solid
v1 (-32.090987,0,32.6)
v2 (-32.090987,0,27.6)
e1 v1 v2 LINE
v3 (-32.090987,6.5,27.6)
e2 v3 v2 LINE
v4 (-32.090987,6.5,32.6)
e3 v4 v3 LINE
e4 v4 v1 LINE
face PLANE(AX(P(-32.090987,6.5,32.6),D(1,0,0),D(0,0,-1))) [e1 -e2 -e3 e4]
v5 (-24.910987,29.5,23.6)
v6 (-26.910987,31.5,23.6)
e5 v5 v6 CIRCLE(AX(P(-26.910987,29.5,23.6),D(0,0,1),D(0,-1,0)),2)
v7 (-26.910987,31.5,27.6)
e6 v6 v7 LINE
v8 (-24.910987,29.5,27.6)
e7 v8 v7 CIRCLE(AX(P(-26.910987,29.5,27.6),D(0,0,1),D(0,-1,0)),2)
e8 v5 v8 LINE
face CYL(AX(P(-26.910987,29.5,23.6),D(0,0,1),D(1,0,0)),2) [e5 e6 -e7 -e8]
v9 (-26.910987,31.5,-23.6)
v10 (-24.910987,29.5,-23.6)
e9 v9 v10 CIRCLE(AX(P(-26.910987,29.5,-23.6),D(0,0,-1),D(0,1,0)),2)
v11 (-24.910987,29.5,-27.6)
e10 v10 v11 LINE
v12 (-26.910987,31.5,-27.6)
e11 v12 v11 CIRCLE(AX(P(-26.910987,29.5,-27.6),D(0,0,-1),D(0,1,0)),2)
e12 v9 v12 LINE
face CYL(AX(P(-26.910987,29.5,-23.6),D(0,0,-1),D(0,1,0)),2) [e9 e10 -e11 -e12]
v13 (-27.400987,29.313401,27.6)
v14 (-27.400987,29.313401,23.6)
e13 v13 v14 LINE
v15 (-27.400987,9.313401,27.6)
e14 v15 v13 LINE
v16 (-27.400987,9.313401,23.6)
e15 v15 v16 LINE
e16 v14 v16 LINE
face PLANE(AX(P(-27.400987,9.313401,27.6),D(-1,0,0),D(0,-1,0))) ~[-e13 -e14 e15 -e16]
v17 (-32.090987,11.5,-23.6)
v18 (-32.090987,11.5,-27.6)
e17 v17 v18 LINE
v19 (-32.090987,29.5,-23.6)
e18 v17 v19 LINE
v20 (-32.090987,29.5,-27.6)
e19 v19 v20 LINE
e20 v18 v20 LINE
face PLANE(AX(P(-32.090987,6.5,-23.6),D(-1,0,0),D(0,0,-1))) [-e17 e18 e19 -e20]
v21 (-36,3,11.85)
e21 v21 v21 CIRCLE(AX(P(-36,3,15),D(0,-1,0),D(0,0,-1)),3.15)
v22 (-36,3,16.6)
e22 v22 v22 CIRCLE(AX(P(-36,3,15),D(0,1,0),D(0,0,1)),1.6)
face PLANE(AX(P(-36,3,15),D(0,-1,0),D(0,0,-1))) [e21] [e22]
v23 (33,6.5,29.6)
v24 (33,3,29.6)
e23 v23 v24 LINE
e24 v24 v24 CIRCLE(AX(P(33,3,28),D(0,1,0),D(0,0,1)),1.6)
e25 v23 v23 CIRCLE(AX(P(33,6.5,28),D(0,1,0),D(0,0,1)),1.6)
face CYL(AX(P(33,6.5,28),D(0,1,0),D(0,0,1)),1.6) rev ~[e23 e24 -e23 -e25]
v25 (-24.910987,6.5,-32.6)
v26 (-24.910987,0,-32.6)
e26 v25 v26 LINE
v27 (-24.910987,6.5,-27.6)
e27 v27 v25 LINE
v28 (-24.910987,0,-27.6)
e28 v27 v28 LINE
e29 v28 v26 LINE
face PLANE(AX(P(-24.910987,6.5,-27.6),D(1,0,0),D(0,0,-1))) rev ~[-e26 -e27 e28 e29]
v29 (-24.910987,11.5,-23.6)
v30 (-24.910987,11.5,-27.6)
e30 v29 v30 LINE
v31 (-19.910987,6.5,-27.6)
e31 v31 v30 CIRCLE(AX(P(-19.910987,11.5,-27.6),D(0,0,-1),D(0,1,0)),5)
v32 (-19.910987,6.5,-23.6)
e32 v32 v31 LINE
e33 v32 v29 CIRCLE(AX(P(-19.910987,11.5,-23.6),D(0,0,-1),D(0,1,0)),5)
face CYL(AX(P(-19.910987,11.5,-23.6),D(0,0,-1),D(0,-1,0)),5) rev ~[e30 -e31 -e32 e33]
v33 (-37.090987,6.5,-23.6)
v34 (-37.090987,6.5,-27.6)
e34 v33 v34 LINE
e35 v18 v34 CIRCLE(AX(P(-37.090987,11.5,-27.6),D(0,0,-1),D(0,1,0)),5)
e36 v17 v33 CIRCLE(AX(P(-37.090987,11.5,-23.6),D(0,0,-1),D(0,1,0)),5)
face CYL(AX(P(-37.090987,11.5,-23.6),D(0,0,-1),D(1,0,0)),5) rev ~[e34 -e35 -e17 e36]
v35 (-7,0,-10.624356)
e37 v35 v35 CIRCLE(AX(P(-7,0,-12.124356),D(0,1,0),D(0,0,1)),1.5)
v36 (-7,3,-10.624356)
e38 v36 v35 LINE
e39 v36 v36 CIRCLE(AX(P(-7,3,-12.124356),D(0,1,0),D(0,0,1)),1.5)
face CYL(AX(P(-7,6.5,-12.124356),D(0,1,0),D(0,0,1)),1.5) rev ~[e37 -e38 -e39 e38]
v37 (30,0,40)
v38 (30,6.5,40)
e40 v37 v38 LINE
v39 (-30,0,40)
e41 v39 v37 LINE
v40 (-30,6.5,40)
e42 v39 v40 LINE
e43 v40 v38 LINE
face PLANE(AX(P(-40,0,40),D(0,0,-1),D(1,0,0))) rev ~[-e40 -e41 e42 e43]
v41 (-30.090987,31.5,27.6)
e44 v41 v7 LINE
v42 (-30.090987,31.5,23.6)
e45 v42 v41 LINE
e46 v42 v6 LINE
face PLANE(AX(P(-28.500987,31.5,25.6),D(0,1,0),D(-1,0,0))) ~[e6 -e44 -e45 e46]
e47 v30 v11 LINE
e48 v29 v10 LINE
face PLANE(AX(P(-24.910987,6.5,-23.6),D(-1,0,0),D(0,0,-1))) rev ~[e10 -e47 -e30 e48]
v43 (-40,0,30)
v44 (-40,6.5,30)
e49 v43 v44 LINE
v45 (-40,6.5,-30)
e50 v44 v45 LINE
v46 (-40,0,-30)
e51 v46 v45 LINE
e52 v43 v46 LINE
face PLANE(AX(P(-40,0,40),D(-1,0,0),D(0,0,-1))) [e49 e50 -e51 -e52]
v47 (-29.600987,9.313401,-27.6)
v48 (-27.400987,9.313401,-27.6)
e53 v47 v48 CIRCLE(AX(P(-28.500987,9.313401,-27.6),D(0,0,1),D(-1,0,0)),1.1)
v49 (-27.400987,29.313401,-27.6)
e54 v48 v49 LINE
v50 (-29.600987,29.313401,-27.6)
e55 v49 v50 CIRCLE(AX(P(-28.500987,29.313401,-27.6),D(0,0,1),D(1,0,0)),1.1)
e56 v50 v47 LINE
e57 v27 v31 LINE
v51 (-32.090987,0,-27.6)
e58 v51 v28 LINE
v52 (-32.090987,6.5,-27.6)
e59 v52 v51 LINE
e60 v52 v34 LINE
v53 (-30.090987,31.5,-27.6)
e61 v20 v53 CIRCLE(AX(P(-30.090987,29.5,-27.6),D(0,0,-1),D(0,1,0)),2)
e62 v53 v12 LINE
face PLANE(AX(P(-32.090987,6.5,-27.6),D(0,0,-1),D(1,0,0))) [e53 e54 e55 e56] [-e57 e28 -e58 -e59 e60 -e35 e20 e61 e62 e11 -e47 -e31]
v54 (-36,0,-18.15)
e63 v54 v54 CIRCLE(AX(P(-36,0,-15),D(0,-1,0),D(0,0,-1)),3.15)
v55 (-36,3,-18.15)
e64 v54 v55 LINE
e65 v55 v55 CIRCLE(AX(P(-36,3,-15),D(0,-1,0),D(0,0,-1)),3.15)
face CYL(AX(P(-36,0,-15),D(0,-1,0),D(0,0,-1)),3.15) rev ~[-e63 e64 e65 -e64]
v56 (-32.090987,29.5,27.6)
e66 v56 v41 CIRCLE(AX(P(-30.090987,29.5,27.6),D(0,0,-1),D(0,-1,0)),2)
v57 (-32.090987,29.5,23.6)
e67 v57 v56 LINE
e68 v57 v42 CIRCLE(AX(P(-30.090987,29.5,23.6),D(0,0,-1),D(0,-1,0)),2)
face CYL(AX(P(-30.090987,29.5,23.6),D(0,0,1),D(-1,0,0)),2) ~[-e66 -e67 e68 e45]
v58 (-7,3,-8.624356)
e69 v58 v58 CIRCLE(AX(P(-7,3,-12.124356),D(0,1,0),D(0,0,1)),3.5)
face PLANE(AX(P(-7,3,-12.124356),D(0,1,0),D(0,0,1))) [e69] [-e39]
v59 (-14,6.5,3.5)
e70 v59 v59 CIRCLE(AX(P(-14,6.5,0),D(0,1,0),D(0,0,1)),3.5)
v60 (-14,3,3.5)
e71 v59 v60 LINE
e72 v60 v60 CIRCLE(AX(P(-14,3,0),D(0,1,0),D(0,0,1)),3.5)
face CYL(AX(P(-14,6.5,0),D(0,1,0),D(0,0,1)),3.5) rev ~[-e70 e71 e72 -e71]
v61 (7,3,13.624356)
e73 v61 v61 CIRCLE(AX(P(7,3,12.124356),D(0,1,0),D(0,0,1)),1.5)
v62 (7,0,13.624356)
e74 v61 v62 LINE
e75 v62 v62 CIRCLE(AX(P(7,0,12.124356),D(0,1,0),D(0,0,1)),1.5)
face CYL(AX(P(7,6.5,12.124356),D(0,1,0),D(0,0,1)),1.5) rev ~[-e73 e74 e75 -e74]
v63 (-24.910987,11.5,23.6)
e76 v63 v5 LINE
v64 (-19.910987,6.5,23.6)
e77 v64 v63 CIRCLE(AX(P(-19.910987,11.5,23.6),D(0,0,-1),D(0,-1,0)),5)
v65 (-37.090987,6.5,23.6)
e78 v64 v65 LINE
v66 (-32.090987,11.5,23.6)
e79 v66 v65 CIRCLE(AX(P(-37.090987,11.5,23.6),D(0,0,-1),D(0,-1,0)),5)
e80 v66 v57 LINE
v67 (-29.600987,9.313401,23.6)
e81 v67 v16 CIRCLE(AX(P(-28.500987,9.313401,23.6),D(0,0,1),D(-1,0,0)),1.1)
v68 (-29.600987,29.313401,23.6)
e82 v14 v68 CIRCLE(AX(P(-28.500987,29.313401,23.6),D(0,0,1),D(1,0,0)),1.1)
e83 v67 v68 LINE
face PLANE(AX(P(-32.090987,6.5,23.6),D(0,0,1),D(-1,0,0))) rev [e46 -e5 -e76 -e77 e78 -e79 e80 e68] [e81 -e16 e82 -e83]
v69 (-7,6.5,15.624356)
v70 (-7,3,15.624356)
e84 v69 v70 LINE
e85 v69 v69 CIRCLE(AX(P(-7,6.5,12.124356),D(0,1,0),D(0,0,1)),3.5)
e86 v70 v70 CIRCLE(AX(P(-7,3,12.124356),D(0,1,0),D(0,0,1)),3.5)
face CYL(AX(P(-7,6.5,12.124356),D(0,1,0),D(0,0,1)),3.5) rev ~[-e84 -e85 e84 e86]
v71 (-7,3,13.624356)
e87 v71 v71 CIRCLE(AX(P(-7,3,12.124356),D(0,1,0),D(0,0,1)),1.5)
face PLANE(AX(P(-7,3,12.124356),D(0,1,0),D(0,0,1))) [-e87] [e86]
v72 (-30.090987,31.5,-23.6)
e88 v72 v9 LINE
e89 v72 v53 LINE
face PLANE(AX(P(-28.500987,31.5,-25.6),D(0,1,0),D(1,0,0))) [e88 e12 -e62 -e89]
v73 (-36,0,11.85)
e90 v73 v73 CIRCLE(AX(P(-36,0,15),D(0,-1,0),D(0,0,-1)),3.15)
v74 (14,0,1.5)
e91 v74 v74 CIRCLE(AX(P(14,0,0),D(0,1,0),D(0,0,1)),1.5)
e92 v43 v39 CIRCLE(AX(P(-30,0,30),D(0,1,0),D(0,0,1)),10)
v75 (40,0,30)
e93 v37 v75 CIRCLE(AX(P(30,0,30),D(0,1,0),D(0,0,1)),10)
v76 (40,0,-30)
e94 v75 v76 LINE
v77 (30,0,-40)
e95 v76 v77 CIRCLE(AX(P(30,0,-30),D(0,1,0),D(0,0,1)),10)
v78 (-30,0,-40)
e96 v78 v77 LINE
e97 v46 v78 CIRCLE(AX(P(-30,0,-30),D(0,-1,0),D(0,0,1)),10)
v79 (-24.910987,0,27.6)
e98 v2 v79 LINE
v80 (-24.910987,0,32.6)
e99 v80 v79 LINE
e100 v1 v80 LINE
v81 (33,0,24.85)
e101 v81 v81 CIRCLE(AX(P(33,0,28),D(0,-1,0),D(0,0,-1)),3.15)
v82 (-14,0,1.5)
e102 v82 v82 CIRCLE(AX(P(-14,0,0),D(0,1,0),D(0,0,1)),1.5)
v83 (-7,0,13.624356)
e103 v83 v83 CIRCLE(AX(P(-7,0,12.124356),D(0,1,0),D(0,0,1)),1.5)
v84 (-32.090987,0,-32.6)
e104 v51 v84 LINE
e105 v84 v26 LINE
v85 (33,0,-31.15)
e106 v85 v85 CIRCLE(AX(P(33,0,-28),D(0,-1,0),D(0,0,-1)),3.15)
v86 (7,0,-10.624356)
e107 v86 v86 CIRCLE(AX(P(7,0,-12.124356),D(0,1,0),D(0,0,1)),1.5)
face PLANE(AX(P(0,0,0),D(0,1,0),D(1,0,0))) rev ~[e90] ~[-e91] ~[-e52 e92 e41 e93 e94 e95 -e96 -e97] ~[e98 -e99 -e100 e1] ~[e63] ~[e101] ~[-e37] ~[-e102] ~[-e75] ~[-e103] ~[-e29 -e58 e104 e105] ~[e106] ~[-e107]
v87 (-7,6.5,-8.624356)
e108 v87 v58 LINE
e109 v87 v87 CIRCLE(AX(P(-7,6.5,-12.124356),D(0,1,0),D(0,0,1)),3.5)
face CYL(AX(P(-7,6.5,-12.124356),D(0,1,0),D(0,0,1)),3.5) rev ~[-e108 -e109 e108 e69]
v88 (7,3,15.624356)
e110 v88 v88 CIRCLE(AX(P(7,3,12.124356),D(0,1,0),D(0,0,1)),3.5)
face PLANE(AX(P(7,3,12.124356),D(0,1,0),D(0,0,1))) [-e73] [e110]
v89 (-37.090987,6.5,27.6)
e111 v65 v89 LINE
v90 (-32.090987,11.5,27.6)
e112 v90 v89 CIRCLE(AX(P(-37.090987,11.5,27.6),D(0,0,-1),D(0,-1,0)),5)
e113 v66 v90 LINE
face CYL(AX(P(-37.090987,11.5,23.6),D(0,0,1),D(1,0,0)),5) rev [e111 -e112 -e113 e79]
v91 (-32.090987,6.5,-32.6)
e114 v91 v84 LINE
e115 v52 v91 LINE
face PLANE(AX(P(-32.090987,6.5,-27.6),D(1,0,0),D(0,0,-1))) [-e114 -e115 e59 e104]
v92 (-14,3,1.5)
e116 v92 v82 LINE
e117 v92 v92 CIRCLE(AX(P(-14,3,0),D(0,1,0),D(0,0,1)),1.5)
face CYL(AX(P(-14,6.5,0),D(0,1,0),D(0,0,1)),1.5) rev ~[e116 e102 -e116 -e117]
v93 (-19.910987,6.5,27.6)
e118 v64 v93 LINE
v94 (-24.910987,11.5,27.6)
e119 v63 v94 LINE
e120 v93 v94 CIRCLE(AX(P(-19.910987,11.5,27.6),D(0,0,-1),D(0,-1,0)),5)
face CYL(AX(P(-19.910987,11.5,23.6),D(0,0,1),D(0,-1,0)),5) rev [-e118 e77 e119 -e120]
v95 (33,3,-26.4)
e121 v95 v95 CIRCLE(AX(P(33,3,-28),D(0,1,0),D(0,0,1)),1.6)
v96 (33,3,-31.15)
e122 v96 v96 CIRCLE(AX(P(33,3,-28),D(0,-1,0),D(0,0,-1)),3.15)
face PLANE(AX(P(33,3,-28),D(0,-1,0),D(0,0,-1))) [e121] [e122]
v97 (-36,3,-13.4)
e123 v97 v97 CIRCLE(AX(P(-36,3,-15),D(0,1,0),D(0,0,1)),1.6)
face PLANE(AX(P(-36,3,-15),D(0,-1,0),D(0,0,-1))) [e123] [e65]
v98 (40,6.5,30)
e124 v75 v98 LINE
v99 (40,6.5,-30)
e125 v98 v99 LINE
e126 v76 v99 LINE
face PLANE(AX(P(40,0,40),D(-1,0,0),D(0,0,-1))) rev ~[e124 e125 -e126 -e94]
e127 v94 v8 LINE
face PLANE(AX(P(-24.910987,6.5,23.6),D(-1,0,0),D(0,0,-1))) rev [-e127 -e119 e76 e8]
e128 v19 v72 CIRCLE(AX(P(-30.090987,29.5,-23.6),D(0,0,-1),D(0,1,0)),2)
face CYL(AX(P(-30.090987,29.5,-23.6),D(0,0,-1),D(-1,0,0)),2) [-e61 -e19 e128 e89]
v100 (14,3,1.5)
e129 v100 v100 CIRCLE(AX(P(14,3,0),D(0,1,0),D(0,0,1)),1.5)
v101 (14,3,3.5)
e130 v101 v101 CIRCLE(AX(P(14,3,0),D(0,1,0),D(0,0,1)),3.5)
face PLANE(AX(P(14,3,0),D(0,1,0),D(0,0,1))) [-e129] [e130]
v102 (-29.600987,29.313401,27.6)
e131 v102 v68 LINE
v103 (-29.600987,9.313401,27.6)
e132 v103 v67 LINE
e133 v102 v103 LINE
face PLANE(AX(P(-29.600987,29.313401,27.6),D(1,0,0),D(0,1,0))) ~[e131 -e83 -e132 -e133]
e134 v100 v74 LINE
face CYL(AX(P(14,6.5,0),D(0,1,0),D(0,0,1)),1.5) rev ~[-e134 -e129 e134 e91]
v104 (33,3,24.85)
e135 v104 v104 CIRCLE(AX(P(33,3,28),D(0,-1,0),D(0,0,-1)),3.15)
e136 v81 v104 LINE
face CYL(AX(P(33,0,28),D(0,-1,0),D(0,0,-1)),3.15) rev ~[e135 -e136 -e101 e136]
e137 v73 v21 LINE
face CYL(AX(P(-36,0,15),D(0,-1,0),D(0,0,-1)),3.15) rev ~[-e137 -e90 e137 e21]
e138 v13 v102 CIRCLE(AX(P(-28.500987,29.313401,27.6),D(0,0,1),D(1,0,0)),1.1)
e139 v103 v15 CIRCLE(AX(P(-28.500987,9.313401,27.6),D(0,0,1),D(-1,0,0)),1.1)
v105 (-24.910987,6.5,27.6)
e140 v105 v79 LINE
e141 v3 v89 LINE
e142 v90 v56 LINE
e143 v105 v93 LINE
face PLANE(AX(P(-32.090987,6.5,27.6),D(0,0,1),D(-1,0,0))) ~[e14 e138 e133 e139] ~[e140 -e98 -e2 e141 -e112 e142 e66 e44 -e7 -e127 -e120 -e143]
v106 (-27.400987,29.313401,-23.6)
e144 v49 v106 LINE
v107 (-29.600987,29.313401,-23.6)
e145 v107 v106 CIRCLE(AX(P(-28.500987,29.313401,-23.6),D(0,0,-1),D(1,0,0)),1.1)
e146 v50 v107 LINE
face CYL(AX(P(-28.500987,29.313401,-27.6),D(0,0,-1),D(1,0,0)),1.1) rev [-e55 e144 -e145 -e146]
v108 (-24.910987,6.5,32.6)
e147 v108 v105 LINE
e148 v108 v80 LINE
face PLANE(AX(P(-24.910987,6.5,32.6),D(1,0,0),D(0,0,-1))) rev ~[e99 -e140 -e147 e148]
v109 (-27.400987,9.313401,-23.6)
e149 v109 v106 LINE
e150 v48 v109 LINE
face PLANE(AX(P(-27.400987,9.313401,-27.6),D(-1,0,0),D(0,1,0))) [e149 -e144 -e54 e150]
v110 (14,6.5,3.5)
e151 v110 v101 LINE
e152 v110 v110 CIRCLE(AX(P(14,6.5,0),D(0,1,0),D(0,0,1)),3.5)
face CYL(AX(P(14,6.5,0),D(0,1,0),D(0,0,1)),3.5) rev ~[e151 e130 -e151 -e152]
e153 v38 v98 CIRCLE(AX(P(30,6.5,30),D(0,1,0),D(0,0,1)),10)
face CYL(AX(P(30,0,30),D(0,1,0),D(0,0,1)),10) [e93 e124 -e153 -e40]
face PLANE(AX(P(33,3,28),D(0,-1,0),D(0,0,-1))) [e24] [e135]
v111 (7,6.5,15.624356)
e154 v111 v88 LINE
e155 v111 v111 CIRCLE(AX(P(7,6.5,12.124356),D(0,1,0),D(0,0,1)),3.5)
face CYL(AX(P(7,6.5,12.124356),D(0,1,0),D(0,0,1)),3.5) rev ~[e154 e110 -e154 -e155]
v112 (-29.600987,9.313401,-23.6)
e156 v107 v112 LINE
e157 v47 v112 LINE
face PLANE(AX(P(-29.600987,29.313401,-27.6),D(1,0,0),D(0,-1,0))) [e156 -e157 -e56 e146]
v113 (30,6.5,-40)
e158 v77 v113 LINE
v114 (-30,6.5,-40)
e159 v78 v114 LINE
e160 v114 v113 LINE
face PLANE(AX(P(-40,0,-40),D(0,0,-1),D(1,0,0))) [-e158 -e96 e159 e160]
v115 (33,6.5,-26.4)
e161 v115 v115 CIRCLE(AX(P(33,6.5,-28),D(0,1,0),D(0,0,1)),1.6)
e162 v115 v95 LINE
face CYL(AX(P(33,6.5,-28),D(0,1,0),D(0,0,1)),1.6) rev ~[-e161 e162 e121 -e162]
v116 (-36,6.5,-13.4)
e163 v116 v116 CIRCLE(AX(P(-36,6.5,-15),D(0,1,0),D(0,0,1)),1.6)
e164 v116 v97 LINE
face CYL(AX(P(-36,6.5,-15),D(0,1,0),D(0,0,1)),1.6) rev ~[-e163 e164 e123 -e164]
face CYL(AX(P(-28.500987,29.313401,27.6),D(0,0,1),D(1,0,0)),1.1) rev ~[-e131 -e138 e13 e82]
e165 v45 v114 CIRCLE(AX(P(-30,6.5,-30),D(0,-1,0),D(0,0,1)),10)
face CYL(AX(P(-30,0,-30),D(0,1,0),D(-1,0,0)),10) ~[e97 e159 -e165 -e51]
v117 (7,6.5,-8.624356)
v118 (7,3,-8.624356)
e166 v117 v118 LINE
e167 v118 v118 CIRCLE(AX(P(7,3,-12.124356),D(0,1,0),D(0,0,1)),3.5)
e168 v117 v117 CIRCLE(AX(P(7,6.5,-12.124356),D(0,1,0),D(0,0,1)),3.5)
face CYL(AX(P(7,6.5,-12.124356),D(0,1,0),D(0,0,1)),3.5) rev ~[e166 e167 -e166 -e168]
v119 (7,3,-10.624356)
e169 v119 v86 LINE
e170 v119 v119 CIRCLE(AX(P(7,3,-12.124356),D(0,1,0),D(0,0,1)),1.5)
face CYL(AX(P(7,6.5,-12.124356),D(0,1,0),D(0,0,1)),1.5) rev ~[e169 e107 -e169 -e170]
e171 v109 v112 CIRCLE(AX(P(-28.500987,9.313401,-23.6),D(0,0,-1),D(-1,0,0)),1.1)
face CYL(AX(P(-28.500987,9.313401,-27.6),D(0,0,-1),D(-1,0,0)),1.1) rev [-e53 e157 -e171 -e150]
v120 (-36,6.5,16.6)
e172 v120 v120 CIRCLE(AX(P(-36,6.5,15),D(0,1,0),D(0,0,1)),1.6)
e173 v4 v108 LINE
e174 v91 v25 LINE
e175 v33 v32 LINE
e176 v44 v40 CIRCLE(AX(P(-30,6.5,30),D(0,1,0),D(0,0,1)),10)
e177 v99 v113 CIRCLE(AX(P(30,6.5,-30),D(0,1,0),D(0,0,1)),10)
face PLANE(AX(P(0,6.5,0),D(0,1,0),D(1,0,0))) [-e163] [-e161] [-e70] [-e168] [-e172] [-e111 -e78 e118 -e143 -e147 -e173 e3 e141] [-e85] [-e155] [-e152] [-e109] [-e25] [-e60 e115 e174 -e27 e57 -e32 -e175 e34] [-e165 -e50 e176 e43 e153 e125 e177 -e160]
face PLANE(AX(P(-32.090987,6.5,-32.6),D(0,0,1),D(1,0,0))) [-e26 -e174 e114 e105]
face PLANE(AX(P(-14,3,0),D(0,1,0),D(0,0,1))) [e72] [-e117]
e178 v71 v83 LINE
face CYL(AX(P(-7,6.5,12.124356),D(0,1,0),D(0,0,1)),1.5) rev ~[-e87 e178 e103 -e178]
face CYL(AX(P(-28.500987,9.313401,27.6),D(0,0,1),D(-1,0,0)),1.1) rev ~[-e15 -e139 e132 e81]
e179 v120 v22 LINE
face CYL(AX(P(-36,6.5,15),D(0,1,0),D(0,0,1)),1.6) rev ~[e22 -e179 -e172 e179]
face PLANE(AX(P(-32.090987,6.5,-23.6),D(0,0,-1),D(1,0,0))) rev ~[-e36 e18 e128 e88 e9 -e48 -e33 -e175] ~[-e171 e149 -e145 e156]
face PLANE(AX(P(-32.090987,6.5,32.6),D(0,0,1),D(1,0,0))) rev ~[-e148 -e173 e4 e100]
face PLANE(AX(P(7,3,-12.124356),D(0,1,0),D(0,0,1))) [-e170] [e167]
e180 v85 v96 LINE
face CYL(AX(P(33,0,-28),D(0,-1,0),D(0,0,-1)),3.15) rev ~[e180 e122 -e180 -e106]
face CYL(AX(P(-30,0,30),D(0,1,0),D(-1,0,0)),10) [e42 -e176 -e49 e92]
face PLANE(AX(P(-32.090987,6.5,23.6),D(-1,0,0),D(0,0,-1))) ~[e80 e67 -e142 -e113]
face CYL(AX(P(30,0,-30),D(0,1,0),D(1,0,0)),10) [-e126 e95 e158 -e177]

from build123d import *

# Parameters (mm, degrees)
SKETCH_1_W             = 80
SKETCH_1_H             = 80
EXTRUDE_1_DEPTH        = 6.5
FILLET_1_R             = 10
SKETCH_55_R            = 1.5
CUT_EXTRUDE_33_DEPTH   = 10
SKETCH_57_R            = 3.5
CUT_EXTRUDE_34_DEPTH   = 3.5
SKETCH_58_W            = 7.18
SKETCH_58_H            = 5
CUT_EXTRUDE_35_DEPTH   = 7.5
SKETCH_60_R            = 1.6
CUT_EXTRUDE_36_DEPTH   = 10
SKETCH_61_R            = 3.15
CUT_EXTRUDE_37_DEPTH   = 3
SKETCH_62_W            = 7.18
SKETCH_62_H            = 4
EXTRUDE_8_DEPTH        = 25
FILLET_8_R             = 5
CUT_EXTRUDE_38_DEPTH   = 25
FILLET_9_R             = 2
FILLET_8_OF_MIRROR_1_R = 5
FILLET_9_OF_MIRROR_1_R = 2


with BuildPart() as part:
    # 草图1 → 凸台-拉伸1 (new body)
    with BuildSketch(Plane(origin=(0, 0, 0), x_dir=(1, 0, 0), z_dir=(0, 1, 0))):
        Rectangle(SKETCH_1_W, SKETCH_1_H)
    extrude(amount=EXTRUDE_1_DEPTH)

    # 圆角1
    fillet_1_edges = [part.edges().sort_by_distance(p)[0] for p in [
        (40, 3.25, 40),
        (-40, 3.25, 40),
        (-40, 3.25, -40),
        (40, 3.25, -40),
    ]]
    fillet(fillet_1_edges, radius=FILLET_1_R)

    # 草图55 → 切除-拉伸33 (cut)
    with BuildSketch(Plane(origin=(0, 6.5, 0), x_dir=(1, 0, 0), z_dir=(0, 1, 0))):
        with Locations(Location((-7, -12.124355653, 0), (0, 0, 270))):
            Circle(SKETCH_55_R)
        with Locations(Location((-14, 0, 0), (0, 0, 270))):
            Circle(SKETCH_55_R)
        with Locations(Location((-7, 12.124355653, 0), (0, 0, 270))):
            Circle(SKETCH_55_R)
        with Locations(Location((7, 12.124355653, 0), (0, 0, 270))):
            Circle(SKETCH_55_R)
        with Locations(Location((7, -12.124355653, 0), (0, 0, 270))):
            Circle(SKETCH_55_R)
        with Locations(Location((14, 0, 0), (0, 0, 270))):
            Circle(SKETCH_55_R)
    extrude(amount=-CUT_EXTRUDE_33_DEPTH, mode=Mode.SUBTRACT)

    # 草图57 → 切除-拉伸34 (cut)
    with BuildSketch(Plane(origin=(0, 6.5, 0), x_dir=(1, 0, 0), z_dir=(0, 1, 0))):
        with Locations(Location((14, 0, 0), (0, 0, 270))):
            Circle(SKETCH_57_R)
        with Locations(Location((7, -12.124355653, 0), (0, 0, 270))):
            Circle(SKETCH_57_R)
        with Locations(Location((-7, -12.124355653, 0), (0, 0, 270))):
            Circle(SKETCH_57_R)
        with Locations(Location((-14, 0, 0), (0, 0, 270))):
            Circle(SKETCH_57_R)
        with Locations(Location((-7, 12.124355653, 0), (0, 0, 270))):
            Circle(SKETCH_57_R)
        with Locations(Location((7, 12.124355653, 0), (0, 0, 270))):
            Circle(SKETCH_57_R)
    extrude(amount=-CUT_EXTRUDE_34_DEPTH, mode=Mode.SUBTRACT)

    # 草图58 → 切除-拉伸35 (cut)
    with BuildSketch(Plane(origin=(0, 6.5, 0), x_dir=(1, 0, 0), z_dir=(0, 1, 0))):
        with Locations((-28.500986742, -30.1)):
            Rectangle(SKETCH_58_W, SKETCH_58_H)
        with Locations((-28.500986742, 30.1)):
            Rectangle(SKETCH_58_W, SKETCH_58_H)
    extrude(amount=-CUT_EXTRUDE_35_DEPTH, mode=Mode.SUBTRACT)

    # 草图60 → 切除-拉伸36 (cut)
    with BuildSketch(Plane(origin=(0, 6.5, 0), x_dir=(1, 0, 0), z_dir=(0, 1, 0))):
        with Locations(Location((-36, -15, 0), (0, 0, 270))):
            Circle(SKETCH_60_R)
        with Locations(Location((-36, 15, 0), (0, 0, 270))):
            Circle(SKETCH_60_R)
        with Locations(Location((33, -28, 0), (0, 0, 270))):
            Circle(SKETCH_60_R)
        with Locations(Location((33, 28, 0), (0, 0, 270))):
            Circle(SKETCH_60_R)
    extrude(amount=-CUT_EXTRUDE_36_DEPTH, mode=Mode.SUBTRACT)

    # 草图61 → 切除-拉伸37 (cut)
    with BuildSketch(Plane.XZ):
        with Locations(Location((-36, 15, 0), (0, 0, 270))):
            Circle(SKETCH_61_R)
        with Locations(Location((-36, -15, 0), (0, 0, 270))):
            Circle(SKETCH_61_R)
        with Locations(Location((33, -28, 0), (0, 0, 270))):
            Circle(SKETCH_61_R)
        with Locations(Location((33, 28, 0), (0, 0, 270))):
            Circle(SKETCH_61_R)
    extrude(amount=-CUT_EXTRUDE_37_DEPTH, mode=Mode.SUBTRACT)

    # 草图62 → 凸台-拉伸8 (add)
    with BuildSketch(Plane(origin=(0, 6.5, 0), x_dir=(1, 0, 0), z_dir=(0, 1, 0))):
        with Locations((-28.500986742, 25.6)):
            Rectangle(SKETCH_62_W, SKETCH_62_H)
    extrude_8 = extrude(amount=EXTRUDE_8_DEPTH)

    # 圆角8
    fillet_8_edges = [part.edges().sort_by_distance(p)[0] for p in [
        (-32.090986742, 6.5, -25.6),
        (-24.910986742, 6.5, -25.6),
    ]]
    fillet(fillet_8_edges, radius=FILLET_8_R)

    # 草图63 → 切除-拉伸38 (cut)
    with BuildSketch(Plane(origin=(0, 0, -27.6), x_dir=(-1, 0, 0), z_dir=(0, 0, -1))):
        with BuildLine():
            Line((29.600986742, 29.313400897), (29.600986742, 9.313400897))
            ThreePointArc((29.600986742, 9.313400897), (28.500986742, 8.213400897), (27.400986742, 9.313400897))
            Line((27.400986742, 9.313400897), (27.400986742, 29.313400897))
            ThreePointArc((27.400986742, 29.313400897), (28.500986742, 30.413400897), (29.600986742, 29.313400897))
        make_face()
    cut_extrude_38 = extrude(amount=-CUT_EXTRUDE_38_DEPTH, mode=Mode.SUBTRACT)

    # 圆角9
    fillet_9_edges = [part.edges().sort_by_distance(p)[0] for p in [
        (-32.090986742, 31.5, -25.6),
        (-24.910986742, 31.5, -25.6),
    ]]
    fillet(fillet_9_edges, radius=FILLET_9_R)

    # 镜向1: 凸台-拉伸8, 切除-拉伸38 across plane
    add(extrude_8.mirror(Plane.XY))
    add(cut_extrude_38.mirror(Plane.XY), mode=Mode.SUBTRACT)

    # 圆角8 of 镜向1
    fillet_8_of_mirror_1_edges = [part.edges().sort_by_distance(p)[0] for p in [
        (-32.090986742, 6.5, 25.6),
        (-24.910986742, 6.5, 25.6),
    ]]
    fillet(fillet_8_of_mirror_1_edges, radius=FILLET_8_OF_MIRROR_1_R)

    # 圆角9 of 镜向1
    fillet_9_of_mirror_1_edges = [part.edges().sort_by_distance(p)[0] for p in [
        (-32.090986742, 31.5, 25.6),
        (-24.910986742, 31.5, 25.6),
    ]]
    fillet(fillet_9_of_mirror_1_edges, radius=FILLET_9_OF_MIRROR_1_R)


solid = part.part
